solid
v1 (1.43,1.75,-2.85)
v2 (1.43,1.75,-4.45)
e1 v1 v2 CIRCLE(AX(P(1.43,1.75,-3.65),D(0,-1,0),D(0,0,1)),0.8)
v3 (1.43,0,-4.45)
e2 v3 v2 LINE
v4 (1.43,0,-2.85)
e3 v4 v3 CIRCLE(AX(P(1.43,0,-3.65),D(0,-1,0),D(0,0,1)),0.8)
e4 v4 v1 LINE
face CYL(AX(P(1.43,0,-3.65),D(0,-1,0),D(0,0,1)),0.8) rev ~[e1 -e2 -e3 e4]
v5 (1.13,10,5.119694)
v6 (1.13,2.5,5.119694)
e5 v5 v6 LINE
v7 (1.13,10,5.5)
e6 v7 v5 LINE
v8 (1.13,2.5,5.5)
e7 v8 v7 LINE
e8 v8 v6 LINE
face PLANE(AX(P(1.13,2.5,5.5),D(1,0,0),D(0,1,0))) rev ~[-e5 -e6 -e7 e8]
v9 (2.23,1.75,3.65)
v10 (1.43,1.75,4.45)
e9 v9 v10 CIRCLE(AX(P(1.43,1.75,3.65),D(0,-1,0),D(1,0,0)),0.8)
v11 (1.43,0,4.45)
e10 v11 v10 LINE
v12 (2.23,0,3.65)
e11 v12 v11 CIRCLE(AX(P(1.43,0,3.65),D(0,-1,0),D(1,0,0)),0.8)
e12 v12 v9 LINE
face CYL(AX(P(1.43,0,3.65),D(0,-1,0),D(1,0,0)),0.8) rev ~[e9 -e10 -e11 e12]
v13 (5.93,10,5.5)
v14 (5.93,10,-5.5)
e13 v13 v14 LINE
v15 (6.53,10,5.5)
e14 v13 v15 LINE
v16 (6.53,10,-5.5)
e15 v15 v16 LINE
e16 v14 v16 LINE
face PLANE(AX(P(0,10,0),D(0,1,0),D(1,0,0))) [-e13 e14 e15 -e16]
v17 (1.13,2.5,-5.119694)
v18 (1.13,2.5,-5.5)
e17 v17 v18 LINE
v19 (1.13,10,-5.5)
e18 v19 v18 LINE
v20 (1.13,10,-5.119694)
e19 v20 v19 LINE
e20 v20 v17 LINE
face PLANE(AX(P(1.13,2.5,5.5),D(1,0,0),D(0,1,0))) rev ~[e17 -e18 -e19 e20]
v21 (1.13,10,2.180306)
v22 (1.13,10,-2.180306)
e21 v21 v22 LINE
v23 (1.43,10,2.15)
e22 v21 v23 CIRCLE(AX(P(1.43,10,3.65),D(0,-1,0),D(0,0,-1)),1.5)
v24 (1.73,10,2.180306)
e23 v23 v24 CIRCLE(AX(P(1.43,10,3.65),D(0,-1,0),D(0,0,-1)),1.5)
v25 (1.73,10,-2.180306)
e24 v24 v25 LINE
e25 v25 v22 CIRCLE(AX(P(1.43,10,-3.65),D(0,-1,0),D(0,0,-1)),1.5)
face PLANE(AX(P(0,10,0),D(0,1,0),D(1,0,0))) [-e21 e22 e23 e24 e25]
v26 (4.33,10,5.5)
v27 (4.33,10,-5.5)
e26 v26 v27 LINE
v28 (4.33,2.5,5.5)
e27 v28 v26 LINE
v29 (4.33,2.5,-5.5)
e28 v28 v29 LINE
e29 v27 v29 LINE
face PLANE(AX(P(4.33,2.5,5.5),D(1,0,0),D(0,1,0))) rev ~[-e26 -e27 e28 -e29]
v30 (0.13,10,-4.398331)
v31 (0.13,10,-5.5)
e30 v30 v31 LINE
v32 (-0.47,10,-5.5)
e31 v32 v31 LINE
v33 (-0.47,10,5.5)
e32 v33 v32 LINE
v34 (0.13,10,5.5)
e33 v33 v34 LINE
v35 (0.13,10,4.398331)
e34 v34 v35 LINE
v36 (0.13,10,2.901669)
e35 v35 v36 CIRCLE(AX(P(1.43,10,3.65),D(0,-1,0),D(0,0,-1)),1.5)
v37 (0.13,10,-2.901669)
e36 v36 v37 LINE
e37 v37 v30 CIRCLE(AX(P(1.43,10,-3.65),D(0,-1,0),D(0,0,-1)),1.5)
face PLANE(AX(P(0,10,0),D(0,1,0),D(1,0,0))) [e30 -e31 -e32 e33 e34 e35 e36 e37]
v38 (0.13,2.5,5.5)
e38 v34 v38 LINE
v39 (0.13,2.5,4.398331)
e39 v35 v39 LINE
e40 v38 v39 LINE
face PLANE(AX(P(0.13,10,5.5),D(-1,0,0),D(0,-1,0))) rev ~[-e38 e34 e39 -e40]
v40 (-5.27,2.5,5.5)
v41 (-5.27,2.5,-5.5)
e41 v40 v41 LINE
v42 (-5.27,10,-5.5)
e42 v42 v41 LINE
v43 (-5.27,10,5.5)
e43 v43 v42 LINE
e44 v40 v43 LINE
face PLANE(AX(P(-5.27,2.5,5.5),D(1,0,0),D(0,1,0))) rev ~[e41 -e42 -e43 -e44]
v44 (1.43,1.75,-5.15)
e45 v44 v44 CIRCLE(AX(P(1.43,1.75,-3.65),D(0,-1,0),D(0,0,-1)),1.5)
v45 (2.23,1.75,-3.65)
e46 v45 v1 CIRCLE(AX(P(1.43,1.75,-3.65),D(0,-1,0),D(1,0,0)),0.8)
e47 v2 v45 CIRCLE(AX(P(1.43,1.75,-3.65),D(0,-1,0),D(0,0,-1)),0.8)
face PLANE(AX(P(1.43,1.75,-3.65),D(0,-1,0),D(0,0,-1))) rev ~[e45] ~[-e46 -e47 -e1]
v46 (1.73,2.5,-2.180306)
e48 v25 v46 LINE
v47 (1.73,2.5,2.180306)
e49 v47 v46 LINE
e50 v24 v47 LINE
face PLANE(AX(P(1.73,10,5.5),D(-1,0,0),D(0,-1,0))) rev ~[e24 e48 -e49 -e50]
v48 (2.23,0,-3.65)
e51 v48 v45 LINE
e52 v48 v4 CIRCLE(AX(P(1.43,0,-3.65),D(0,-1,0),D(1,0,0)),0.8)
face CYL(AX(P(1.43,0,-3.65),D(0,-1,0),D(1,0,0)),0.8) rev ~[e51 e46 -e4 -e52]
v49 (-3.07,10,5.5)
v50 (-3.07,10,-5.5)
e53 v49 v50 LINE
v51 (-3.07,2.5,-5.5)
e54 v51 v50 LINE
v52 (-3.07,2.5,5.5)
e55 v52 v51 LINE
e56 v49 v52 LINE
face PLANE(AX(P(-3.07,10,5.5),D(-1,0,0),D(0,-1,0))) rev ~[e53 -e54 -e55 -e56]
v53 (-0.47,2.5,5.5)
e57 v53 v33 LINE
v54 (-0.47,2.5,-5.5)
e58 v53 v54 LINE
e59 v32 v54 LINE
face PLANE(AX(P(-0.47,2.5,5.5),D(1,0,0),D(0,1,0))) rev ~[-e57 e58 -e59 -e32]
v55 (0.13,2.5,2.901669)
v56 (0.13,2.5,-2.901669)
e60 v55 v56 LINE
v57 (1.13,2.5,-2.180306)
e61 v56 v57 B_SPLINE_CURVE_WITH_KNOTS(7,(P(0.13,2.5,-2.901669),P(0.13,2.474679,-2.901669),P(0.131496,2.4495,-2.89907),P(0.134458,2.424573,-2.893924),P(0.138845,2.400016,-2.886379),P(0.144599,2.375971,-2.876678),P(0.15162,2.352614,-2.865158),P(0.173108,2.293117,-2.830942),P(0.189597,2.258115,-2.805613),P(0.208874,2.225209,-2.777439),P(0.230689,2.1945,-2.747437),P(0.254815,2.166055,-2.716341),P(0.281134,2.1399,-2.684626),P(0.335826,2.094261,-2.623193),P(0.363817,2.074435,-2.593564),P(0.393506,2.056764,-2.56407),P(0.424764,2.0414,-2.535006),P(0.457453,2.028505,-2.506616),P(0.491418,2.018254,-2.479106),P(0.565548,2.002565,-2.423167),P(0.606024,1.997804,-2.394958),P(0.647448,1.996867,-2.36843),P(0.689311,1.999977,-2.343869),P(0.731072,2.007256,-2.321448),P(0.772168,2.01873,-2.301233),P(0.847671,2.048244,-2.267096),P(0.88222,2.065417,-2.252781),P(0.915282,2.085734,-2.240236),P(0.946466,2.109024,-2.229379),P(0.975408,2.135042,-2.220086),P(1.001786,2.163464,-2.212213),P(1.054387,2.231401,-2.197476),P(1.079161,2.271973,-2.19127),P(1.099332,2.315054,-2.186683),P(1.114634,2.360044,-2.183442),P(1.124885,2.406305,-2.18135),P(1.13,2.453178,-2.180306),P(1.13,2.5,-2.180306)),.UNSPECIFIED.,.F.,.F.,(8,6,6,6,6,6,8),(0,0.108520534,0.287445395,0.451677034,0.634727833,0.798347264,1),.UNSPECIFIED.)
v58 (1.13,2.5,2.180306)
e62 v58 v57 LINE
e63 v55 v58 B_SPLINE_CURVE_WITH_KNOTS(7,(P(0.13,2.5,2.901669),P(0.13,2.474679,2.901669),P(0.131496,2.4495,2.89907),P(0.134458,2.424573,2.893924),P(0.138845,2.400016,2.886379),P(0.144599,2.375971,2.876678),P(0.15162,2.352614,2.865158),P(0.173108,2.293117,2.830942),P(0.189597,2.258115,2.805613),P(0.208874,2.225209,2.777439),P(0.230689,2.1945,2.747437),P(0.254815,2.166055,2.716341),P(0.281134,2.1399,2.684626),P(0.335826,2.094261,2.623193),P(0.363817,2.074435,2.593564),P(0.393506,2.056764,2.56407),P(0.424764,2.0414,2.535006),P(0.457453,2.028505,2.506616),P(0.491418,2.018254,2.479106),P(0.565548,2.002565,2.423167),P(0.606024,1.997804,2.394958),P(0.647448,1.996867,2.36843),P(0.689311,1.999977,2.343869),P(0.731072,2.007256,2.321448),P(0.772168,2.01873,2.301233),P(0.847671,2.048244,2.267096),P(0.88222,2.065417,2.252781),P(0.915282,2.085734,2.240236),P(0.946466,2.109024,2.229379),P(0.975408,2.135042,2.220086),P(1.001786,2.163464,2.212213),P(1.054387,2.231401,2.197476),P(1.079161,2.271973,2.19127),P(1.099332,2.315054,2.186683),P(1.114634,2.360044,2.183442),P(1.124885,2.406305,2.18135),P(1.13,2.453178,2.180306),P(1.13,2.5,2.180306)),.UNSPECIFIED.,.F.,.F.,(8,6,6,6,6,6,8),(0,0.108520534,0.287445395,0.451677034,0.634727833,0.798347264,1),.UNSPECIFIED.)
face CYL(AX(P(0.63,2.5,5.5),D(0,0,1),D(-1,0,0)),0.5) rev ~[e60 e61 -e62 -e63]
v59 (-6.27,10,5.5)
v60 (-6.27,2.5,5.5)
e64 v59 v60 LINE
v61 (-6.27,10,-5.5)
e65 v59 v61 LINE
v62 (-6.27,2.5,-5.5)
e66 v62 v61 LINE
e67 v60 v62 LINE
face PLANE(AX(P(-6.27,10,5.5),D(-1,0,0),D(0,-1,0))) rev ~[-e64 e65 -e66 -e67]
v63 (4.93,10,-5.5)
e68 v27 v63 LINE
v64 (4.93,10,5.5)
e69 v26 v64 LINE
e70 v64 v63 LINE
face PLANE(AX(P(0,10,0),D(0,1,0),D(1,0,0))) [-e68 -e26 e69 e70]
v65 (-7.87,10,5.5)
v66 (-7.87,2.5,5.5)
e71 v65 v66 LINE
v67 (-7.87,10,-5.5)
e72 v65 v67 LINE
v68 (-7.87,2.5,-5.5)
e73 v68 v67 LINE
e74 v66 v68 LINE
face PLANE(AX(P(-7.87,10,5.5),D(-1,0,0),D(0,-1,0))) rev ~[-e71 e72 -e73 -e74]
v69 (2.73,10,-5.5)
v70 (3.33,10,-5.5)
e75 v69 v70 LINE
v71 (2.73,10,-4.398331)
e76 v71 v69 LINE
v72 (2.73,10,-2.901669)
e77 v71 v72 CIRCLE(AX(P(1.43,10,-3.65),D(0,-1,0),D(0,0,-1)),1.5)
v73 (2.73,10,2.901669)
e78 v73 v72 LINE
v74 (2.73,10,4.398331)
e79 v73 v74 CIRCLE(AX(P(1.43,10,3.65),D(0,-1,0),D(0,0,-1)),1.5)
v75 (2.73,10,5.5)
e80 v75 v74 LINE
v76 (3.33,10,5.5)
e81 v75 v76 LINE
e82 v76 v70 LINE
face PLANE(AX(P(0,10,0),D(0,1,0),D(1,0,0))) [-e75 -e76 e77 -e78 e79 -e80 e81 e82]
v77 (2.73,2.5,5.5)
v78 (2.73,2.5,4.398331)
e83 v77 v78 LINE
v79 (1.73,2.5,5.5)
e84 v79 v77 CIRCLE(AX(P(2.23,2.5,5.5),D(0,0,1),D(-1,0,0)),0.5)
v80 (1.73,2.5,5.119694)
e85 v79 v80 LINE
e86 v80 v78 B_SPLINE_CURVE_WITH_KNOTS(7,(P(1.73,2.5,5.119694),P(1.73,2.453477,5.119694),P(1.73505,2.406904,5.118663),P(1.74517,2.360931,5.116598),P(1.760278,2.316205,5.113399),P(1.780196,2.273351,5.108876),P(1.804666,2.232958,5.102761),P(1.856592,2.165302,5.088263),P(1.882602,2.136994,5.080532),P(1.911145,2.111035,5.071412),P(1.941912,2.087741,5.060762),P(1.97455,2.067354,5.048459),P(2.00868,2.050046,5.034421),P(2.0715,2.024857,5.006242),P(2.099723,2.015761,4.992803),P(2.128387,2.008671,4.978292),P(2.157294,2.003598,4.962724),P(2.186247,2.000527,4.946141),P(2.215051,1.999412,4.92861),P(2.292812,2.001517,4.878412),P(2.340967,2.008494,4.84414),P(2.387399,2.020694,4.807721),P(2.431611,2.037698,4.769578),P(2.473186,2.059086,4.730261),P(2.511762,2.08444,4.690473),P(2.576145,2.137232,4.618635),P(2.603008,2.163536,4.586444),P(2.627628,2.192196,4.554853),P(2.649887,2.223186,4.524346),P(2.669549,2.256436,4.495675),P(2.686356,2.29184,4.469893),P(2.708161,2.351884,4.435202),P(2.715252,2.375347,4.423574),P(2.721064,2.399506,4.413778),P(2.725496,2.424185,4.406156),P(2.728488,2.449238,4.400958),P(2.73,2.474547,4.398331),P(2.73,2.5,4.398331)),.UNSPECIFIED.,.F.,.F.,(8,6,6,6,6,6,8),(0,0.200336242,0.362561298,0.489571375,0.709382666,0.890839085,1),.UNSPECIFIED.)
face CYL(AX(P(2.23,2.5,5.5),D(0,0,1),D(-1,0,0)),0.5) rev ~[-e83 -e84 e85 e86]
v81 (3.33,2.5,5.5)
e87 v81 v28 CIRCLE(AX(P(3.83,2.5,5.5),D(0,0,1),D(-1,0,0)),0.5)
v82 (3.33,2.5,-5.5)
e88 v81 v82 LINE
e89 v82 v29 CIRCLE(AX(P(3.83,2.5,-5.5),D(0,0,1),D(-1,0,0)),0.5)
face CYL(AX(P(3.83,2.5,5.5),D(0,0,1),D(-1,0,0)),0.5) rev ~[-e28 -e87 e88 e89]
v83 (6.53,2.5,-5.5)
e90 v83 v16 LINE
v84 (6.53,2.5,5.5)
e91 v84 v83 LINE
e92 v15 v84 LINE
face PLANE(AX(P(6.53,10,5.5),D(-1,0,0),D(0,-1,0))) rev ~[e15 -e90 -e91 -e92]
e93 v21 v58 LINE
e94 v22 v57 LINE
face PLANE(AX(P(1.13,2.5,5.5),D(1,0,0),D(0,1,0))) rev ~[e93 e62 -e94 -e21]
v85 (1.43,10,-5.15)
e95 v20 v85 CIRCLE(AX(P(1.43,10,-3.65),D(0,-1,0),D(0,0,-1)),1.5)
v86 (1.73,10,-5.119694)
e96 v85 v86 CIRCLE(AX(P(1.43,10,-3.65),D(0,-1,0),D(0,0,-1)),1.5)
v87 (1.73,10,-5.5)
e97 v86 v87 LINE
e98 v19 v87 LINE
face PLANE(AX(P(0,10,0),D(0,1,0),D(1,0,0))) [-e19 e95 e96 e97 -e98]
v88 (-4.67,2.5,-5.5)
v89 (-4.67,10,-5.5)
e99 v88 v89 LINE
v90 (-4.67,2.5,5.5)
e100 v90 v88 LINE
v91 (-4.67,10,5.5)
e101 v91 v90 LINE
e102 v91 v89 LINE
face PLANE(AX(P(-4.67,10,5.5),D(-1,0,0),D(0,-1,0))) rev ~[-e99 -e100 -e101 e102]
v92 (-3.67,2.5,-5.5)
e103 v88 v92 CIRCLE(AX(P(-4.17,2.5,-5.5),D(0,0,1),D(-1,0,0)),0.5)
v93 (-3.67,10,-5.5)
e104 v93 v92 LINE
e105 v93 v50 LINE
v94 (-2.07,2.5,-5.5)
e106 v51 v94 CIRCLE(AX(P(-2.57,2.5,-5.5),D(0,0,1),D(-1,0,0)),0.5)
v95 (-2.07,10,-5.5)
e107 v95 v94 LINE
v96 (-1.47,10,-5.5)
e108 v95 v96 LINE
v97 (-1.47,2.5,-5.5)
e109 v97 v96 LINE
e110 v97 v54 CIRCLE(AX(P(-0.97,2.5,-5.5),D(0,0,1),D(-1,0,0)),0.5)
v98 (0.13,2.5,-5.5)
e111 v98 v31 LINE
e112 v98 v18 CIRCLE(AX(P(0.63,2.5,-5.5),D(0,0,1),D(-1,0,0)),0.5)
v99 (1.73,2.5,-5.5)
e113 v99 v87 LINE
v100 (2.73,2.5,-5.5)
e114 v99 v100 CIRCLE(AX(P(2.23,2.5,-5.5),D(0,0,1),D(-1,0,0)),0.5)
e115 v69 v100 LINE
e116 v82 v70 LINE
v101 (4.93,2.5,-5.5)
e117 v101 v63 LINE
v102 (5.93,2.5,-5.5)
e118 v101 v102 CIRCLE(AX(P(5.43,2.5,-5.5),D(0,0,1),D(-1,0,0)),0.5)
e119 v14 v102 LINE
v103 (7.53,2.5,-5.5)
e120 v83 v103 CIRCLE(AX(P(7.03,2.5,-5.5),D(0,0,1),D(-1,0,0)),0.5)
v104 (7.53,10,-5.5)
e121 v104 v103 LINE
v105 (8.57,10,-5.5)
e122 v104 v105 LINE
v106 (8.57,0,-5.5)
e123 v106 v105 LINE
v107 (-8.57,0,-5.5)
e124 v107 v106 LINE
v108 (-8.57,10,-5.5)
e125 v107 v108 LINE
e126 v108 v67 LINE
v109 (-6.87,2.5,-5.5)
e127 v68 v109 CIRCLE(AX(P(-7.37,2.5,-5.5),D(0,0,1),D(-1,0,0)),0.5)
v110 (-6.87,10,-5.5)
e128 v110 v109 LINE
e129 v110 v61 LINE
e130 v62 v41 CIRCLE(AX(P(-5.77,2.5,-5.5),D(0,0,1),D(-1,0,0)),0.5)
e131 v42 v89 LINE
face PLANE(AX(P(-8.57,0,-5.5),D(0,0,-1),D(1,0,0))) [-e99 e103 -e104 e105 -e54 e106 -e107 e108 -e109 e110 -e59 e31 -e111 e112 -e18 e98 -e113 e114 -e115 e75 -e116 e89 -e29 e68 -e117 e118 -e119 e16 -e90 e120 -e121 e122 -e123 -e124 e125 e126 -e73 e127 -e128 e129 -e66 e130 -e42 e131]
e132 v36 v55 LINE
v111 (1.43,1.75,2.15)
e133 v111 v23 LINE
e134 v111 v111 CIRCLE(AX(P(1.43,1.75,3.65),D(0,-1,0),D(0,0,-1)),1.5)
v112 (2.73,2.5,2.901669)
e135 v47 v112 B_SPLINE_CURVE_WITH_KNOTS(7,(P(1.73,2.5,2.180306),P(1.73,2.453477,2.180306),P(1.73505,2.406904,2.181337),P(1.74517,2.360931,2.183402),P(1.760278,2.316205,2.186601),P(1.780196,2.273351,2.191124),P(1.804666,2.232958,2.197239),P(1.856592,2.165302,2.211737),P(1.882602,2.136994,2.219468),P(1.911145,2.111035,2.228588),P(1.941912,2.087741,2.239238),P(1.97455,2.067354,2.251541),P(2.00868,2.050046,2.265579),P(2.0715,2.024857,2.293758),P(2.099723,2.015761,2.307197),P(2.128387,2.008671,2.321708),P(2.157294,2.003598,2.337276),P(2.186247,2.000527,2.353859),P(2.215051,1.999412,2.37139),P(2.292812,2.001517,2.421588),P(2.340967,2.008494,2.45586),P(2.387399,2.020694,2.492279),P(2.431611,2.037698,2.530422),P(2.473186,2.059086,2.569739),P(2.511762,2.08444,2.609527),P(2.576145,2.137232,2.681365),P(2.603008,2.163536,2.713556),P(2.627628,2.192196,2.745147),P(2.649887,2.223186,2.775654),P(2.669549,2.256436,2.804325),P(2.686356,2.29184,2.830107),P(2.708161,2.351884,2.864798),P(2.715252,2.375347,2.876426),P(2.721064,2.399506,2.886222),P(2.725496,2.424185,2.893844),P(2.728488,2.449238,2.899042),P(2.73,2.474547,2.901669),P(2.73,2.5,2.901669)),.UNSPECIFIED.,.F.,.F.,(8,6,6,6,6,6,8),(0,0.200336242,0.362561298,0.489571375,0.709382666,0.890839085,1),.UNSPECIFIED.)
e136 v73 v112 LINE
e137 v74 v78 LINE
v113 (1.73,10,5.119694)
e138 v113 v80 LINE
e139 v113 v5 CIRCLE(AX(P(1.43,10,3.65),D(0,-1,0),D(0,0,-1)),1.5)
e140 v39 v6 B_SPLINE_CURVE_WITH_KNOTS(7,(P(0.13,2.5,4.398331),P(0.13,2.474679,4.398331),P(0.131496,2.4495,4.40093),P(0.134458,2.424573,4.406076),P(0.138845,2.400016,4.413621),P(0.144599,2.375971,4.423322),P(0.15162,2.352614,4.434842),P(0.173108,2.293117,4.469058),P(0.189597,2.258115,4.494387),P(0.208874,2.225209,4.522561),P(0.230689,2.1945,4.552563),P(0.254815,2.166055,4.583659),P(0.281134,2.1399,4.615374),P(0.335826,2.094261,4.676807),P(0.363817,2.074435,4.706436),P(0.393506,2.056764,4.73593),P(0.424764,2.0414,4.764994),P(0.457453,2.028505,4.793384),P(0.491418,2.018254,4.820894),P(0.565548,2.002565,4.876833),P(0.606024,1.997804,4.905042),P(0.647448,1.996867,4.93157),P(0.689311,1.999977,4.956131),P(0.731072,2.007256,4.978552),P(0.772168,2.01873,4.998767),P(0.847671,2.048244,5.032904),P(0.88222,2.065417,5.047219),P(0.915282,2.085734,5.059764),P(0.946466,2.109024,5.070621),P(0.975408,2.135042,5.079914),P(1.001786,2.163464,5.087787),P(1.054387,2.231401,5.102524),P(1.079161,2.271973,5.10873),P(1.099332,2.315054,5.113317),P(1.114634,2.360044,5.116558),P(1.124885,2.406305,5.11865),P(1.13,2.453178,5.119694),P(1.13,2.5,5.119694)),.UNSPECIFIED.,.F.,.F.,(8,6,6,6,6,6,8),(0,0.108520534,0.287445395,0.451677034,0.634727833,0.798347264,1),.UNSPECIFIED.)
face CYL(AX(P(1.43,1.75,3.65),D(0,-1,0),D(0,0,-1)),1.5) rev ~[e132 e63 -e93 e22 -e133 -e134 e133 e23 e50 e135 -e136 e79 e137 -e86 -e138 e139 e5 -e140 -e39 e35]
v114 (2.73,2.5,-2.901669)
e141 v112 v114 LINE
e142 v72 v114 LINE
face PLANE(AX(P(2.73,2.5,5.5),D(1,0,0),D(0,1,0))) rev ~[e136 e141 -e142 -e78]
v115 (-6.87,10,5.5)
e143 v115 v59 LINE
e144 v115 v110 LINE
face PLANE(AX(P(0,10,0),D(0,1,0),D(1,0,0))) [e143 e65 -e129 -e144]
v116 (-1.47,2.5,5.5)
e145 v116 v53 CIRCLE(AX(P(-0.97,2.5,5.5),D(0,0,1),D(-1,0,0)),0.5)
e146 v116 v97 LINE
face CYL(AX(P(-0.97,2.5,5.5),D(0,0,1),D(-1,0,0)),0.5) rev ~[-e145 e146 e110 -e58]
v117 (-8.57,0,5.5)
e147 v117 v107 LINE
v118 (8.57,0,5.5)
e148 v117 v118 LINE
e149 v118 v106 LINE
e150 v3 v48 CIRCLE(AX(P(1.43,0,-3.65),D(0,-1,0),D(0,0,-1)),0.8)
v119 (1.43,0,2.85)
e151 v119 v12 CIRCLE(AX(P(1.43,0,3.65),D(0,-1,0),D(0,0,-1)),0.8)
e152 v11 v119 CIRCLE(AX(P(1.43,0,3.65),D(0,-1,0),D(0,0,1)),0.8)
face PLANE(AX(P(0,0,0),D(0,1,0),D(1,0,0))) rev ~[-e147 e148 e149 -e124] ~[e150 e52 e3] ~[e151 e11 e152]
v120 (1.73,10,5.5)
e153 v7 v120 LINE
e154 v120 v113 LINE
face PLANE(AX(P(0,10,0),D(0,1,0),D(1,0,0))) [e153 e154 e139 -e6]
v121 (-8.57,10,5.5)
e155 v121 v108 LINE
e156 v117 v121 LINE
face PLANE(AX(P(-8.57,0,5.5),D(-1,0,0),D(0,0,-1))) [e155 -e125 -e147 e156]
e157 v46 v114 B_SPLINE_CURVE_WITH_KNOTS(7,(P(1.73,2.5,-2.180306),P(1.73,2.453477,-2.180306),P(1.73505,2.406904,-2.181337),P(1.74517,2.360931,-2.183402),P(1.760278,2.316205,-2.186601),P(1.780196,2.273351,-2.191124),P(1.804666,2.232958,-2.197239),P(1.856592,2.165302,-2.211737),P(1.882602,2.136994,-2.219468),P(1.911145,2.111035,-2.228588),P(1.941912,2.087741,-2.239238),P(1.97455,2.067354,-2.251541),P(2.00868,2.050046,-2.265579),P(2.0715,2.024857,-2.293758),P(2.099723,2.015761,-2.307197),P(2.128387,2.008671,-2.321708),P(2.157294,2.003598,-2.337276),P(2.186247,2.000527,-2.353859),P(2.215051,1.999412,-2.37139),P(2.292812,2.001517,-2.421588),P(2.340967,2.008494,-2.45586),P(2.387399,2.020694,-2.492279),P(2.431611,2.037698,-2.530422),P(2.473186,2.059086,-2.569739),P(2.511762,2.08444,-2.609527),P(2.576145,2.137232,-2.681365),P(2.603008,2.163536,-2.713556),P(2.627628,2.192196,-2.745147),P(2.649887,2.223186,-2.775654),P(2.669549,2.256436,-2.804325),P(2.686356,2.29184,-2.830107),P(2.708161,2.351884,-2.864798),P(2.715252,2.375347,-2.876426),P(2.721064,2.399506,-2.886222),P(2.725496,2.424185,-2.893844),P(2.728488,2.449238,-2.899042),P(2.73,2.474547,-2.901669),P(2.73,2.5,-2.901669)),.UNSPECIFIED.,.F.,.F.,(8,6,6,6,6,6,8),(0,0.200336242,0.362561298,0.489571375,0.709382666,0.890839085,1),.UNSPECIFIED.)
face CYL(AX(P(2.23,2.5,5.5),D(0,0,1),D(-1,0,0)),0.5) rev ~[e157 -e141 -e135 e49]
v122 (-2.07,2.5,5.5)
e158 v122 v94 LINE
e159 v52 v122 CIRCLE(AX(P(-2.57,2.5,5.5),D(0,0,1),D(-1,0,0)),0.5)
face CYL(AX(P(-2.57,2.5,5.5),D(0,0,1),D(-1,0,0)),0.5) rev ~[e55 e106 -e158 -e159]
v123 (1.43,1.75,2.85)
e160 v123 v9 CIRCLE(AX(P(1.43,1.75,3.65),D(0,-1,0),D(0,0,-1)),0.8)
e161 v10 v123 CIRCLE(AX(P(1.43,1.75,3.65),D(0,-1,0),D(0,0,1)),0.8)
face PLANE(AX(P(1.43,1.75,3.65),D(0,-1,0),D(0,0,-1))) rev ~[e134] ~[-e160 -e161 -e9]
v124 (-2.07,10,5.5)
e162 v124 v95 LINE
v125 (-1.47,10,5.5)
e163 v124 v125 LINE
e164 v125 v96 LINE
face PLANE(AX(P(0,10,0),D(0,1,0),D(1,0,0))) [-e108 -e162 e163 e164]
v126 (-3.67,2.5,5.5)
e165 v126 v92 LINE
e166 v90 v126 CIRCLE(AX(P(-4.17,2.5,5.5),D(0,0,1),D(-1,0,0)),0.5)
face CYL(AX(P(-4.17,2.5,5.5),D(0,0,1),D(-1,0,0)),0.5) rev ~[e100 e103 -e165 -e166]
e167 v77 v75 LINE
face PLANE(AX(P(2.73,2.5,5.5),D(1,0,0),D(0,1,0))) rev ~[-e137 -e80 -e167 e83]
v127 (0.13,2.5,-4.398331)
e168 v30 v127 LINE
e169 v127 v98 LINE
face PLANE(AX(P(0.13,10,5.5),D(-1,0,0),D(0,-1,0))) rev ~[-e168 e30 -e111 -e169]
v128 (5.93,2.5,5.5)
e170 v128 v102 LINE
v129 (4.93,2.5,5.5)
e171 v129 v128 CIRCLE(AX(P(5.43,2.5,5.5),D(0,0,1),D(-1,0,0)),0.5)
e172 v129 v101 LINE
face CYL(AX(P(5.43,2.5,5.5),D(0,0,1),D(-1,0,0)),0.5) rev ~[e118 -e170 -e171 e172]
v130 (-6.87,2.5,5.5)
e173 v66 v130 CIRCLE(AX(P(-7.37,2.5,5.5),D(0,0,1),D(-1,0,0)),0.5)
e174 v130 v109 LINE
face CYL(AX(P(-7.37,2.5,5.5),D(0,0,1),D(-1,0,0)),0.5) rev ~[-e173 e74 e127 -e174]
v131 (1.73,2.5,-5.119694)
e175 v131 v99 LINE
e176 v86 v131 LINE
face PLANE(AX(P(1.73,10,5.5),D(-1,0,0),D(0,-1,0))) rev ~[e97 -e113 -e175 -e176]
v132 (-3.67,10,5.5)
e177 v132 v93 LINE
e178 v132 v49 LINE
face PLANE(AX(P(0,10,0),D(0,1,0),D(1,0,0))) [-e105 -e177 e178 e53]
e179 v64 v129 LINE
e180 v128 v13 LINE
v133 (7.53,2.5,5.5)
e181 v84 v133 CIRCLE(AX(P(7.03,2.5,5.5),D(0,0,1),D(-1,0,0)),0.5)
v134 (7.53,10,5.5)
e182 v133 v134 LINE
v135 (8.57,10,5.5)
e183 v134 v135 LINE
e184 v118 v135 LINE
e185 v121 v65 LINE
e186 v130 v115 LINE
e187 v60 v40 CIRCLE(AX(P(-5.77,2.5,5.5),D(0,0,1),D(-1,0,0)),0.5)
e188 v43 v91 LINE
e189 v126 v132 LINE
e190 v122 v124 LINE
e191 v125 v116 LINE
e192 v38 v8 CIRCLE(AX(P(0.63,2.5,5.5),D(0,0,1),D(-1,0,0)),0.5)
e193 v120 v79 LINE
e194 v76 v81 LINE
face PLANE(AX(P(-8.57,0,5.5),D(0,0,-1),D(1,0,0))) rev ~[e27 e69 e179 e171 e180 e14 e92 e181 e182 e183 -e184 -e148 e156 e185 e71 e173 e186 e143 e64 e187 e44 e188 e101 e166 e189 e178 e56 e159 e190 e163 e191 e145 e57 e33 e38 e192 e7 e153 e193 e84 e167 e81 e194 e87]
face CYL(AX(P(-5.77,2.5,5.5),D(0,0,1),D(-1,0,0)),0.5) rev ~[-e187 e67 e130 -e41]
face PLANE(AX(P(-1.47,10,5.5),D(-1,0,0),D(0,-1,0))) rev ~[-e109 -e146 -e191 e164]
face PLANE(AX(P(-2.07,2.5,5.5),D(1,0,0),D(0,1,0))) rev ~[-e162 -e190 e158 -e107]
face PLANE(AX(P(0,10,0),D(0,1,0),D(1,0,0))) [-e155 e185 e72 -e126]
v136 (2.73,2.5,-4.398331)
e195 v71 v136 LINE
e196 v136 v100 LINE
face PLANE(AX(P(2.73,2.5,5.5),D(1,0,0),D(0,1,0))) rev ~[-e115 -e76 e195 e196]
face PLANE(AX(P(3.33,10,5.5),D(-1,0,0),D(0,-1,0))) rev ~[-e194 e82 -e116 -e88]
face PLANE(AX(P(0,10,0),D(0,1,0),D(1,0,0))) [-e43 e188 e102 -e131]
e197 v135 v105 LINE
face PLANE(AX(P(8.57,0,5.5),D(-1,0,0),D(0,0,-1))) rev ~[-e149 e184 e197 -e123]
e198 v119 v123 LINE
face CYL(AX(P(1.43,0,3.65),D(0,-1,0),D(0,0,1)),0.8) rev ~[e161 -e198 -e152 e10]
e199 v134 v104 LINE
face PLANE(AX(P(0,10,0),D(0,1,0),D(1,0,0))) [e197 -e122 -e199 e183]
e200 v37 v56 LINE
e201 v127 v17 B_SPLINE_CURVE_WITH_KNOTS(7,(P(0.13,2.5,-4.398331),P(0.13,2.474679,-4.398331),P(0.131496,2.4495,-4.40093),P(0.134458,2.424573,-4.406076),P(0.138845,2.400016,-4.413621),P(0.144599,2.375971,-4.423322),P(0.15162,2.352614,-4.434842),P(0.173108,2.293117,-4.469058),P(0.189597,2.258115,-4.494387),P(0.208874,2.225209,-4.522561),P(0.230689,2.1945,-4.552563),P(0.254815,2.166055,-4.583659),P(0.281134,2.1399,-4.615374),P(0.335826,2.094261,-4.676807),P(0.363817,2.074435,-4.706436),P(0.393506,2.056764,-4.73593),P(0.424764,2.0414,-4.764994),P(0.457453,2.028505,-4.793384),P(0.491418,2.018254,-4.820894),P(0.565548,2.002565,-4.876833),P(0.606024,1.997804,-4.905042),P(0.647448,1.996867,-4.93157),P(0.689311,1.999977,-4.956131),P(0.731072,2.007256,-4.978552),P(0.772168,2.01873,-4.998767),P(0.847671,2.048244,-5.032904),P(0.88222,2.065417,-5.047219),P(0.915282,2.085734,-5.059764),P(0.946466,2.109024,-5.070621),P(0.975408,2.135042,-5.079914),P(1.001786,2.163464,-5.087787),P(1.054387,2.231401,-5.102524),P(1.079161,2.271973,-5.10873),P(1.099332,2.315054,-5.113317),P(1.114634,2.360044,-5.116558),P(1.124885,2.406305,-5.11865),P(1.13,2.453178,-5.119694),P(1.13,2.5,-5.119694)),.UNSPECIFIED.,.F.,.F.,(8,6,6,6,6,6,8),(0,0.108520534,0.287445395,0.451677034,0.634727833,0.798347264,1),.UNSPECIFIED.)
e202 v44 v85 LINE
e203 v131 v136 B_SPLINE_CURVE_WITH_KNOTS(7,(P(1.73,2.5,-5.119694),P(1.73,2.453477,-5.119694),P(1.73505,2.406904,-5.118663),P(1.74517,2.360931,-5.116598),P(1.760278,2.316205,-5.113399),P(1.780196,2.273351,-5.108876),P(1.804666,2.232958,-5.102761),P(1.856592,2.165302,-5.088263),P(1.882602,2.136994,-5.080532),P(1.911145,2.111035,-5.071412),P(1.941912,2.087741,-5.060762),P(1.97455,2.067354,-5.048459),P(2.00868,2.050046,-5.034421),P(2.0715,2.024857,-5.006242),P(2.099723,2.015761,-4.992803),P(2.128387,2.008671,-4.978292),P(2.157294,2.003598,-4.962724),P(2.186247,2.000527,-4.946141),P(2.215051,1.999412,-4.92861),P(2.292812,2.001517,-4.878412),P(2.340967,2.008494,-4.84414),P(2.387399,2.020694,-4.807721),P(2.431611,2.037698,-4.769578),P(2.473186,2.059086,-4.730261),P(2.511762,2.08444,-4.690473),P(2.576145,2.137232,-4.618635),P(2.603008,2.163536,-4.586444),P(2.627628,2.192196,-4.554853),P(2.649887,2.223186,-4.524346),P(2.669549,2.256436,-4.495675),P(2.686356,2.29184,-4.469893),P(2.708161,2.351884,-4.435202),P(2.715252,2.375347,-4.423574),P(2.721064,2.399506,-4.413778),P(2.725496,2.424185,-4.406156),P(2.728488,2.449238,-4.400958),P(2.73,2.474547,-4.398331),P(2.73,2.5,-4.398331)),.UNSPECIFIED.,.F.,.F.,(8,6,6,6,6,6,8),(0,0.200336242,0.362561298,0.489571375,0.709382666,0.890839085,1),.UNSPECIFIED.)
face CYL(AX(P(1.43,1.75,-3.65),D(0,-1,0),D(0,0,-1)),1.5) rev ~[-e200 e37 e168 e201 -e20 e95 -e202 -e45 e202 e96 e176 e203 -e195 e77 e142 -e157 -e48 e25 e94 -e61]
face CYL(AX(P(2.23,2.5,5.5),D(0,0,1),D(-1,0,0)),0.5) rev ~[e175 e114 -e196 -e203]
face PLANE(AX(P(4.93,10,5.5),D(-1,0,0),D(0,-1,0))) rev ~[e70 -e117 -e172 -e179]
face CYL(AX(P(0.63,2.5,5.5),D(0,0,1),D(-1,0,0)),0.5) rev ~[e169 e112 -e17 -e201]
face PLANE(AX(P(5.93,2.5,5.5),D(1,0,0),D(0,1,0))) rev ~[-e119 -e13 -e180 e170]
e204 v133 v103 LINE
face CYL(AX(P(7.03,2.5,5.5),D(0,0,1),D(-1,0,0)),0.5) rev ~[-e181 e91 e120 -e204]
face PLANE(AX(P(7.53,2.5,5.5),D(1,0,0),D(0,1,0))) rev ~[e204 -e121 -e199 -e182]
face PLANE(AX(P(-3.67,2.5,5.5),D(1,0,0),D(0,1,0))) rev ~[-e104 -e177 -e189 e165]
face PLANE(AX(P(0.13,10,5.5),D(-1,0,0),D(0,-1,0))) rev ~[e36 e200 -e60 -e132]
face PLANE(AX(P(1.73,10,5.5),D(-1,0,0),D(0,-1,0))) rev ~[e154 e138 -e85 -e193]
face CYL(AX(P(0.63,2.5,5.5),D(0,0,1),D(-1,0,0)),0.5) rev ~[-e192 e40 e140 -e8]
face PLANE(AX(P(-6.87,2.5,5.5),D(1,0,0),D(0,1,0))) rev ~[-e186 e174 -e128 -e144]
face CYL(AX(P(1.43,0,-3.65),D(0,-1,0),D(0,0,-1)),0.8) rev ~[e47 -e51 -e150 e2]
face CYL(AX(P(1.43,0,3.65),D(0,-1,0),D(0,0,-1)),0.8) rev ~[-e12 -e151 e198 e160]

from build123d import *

# Parameters (mm, degrees)
SKETCH_1_W          = 17.14
SKETCH_1_H          = 11
EXTRUDE_1_DEPTH     = 10
CUT_EXTRUDE_1_DEPTH = 18.159396843
CUT_EXTRUDE_2_DEPTH = 1.75
SKETCH_4_R          = 1.5
CUT_EXTRUDE_3_DEPTH = 14.105624747


with BuildPart() as part:
    # 草图1 → 凸台-拉伸1 (new body)
    with BuildSketch(Plane(origin=(0, 0, 0), x_dir=(1, 0, 0), z_dir=(0, 1, 0))):
        Rectangle(SKETCH_1_W, SKETCH_1_H)
    extrude(amount=EXTRUDE_1_DEPTH)

    # 草图2 → 切除-拉伸1 (cut, through all)
    with BuildSketch(Plane.XY.offset(5.5)):
        with BuildLine():
            Line((-6.87, 10), (-7.87, 10))
            Line((-7.87, 10), (-7.87, 2.5))
            ThreePointArc((-7.87, 2.5), (-7.37, 3), (-6.87, 2.5))
            Line((-6.87, 2.5), (-6.87, 10))
        make_face()
        with BuildLine():
            Line((-5.27, 10), (-6.27, 10))
            Line((-6.27, 10), (-6.27, 2.5))
            ThreePointArc((-6.27, 2.5), (-5.77, 3), (-5.27, 2.5))
            Line((-5.27, 2.5), (-5.27, 10))
        make_face()
        with BuildLine():
            ThreePointArc((-6.87, 2.5), (-7.37, 3), (-7.87, 2.5))
            Line((-7.87, 2.5), (-6.87, 2.5))
        make_face()
        with BuildLine():
            Line((-6.87, 2.5), (-7.87, 2.5))
            ThreePointArc((-7.87, 2.5), (-7.37, 2), (-6.87, 2.5))
        make_face()
        with BuildLine():
            ThreePointArc((-5.27, 2.5), (-5.77, 3), (-6.27, 2.5))
            Line((-6.27, 2.5), (-5.27, 2.5))
        make_face()
        with BuildLine():
            Line((-5.27, 2.5), (-6.27, 2.5))
            ThreePointArc((-6.27, 2.5), (-5.77, 2), (-5.27, 2.5))
        make_face()
        with BuildLine():
            Line((-3.67, 10), (-4.67, 10))
            Line((-4.67, 10), (-4.67, 2.5))
            ThreePointArc((-4.67, 2.5), (-4.17, 3), (-3.67, 2.5))
            Line((-3.67, 2.5), (-3.67, 10))
        make_face()
        with BuildLine():
            ThreePointArc((-3.67, 2.5), (-4.17, 3), (-4.67, 2.5))
            Line((-4.67, 2.5), (-3.67, 2.5))
        make_face()
        with BuildLine():
            Line((-3.67, 2.5), (-4.67, 2.5))
            ThreePointArc((-4.67, 2.5), (-4.17, 2), (-3.67, 2.5))
        make_face()
        with BuildLine():
            Line((-2.07, 10), (-3.07, 10))
            Line((-3.07, 10), (-3.07, 2.5))
            ThreePointArc((-3.07, 2.5), (-2.57, 3), (-2.07, 2.5))
            Line((-2.07, 2.5), (-2.07, 10))
        make_face()
        with BuildLine():
            ThreePointArc((-2.07, 2.5), (-2.57, 3), (-3.07, 2.5))
            Line((-3.07, 2.5), (-2.07, 2.5))
        make_face()
        with BuildLine():
            Line((-2.07, 2.5), (-3.07, 2.5))
            ThreePointArc((-3.07, 2.5), (-2.57, 2), (-2.07, 2.5))
        make_face()
        with BuildLine():
            Line((-0.47, 10), (-1.47, 10))
            Line((-1.47, 10), (-1.47, 2.5))
            ThreePointArc((-1.47, 2.5), (-0.97, 3), (-0.47, 2.5))
            Line((-0.47, 2.5), (-0.47, 10))
        make_face()
        with BuildLine():
            ThreePointArc((-0.47, 2.5), (-0.97, 3), (-1.47, 2.5))
            Line((-1.47, 2.5), (-0.47, 2.5))
        make_face()
        with BuildLine():
            Line((-0.47, 2.5), (-1.47, 2.5))
            ThreePointArc((-1.47, 2.5), (-0.97, 2), (-0.47, 2.5))
        make_face()
        with BuildLine():
            Line((1.13, 10), (0.13, 10))
            Line((0.13, 10), (0.13, 2.5))
            ThreePointArc((0.13, 2.5), (0.63, 3), (1.13, 2.5))
            Line((1.13, 2.5), (1.13, 10))
        make_face()
        with BuildLine():
            ThreePointArc((1.13, 2.5), (0.63, 3), (0.13, 2.5))
            Line((0.13, 2.5), (1.13, 2.5))
        make_face()
        with BuildLine():
            Line((1.13, 2.5), (0.13, 2.5))
            ThreePointArc((0.13, 2.5), (0.63, 2), (1.13, 2.5))
        make_face()
        with BuildLine():
            Line((2.73, 10), (1.73, 10))
            Line((1.73, 10), (1.73, 2.5))
            ThreePointArc((1.73, 2.5), (2.23, 3), (2.73, 2.5))
            Line((2.73, 2.5), (2.73, 10))
        make_face()
        with BuildLine():
            ThreePointArc((2.73, 2.5), (2.23, 3), (1.73, 2.5))
            Line((1.73, 2.5), (2.73, 2.5))
        make_face()
        with BuildLine():
            Line((2.73, 2.5), (1.73, 2.5))
            ThreePointArc((1.73, 2.5), (2.23, 2), (2.73, 2.5))
        make_face()
        with BuildLine():
            Line((4.33, 10), (3.33, 10))
            Line((3.33, 10), (3.33, 2.5))
            ThreePointArc((3.33, 2.5), (3.83, 3), (4.33, 2.5))
            Line((4.33, 2.5), (4.33, 10))
        make_face()
        with BuildLine():
            ThreePointArc((4.33, 2.5), (3.83, 3), (3.33, 2.5))
            Line((3.33, 2.5), (4.33, 2.5))
        make_face()
        with BuildLine():
            Line((4.33, 2.5), (3.33, 2.5))
            ThreePointArc((3.33, 2.5), (3.83, 2), (4.33, 2.5))
        make_face()
        with BuildLine():
            Line((5.93, 10), (4.93, 10))
            Line((4.93, 10), (4.93, 2.5))
            ThreePointArc((4.93, 2.5), (5.43, 3), (5.93, 2.5))
            Line((5.93, 2.5), (5.93, 10))
        make_face()
        with BuildLine():
            ThreePointArc((5.93, 2.5), (5.43, 3), (4.93, 2.5))
            Line((4.93, 2.5), (5.93, 2.5))
        make_face()
        with BuildLine():
            Line((5.93, 2.5), (4.93, 2.5))
            ThreePointArc((4.93, 2.5), (5.43, 2), (5.93, 2.5))
        make_face()
        with BuildLine():
            Line((7.53, 10), (6.53, 10))
            Line((6.53, 10), (6.53, 2.5))
            ThreePointArc((6.53, 2.5), (7.03, 3), (7.53, 2.5))
            Line((7.53, 2.5), (7.53, 10))
        make_face()
        with BuildLine():
            ThreePointArc((7.53, 2.5), (7.03, 3), (6.53, 2.5))
            Line((6.53, 2.5), (7.53, 2.5))
        make_face()
        with BuildLine():
            Line((7.53, 2.5), (6.53, 2.5))
            ThreePointArc((6.53, 2.5), (7.03, 2), (7.53, 2.5))
        make_face()
    extrude(amount=-CUT_EXTRUDE_1_DEPTH, mode=Mode.SUBTRACT)

    # 草图3 → 切除-拉伸2 (cut)
    with BuildSketch(Plane.XZ):
        with BuildLine():
            ThreePointArc((2.23, 3.65), (1.995685425, 4.215685425), (1.43, 4.45))
            Line((1.43, 4.45), (1.43, 2.85))
            ThreePointArc((1.43, 2.85), (1.995685425, 3.084314575), (2.23, 3.65))
        make_face()
        with BuildLine():
            Line((1.43, 2.85), (1.43, 4.45))
            ThreePointArc((1.43, 4.45), (0.63, 3.65), (1.43, 2.85))
        make_face()
        with BuildLine():
            ThreePointArc((2.23, -3.65), (1.995685425, -3.084314575), (1.43, -2.85))
            Line((1.43, -2.85), (1.43, -4.45))
            ThreePointArc((1.43, -4.45), (1.995685425, -4.215685425), (2.23, -3.65))
        make_face()
        with BuildLine():
            Line((1.43, -4.45), (1.43, -2.85))
            ThreePointArc((1.43, -2.85), (0.63, -3.65), (1.43, -4.45))
        make_face()
    extrude(amount=-CUT_EXTRUDE_2_DEPTH, mode=Mode.SUBTRACT)

    # 草图4 → 切除-拉伸3 (cut, through all)
    with BuildSketch(Plane.XZ.offset(-1.75)):
        with Locations(Location((1.43, 3.65, 0), (0, 0, 270))):
            Circle(SKETCH_4_R)
        with Locations(Location((1.43, -3.65, 0), (0, 0, 270))):
            Circle(SKETCH_4_R)
    extrude(amount=-CUT_EXTRUDE_3_DEPTH, mode=Mode.SUBTRACT)


solid = part.part
